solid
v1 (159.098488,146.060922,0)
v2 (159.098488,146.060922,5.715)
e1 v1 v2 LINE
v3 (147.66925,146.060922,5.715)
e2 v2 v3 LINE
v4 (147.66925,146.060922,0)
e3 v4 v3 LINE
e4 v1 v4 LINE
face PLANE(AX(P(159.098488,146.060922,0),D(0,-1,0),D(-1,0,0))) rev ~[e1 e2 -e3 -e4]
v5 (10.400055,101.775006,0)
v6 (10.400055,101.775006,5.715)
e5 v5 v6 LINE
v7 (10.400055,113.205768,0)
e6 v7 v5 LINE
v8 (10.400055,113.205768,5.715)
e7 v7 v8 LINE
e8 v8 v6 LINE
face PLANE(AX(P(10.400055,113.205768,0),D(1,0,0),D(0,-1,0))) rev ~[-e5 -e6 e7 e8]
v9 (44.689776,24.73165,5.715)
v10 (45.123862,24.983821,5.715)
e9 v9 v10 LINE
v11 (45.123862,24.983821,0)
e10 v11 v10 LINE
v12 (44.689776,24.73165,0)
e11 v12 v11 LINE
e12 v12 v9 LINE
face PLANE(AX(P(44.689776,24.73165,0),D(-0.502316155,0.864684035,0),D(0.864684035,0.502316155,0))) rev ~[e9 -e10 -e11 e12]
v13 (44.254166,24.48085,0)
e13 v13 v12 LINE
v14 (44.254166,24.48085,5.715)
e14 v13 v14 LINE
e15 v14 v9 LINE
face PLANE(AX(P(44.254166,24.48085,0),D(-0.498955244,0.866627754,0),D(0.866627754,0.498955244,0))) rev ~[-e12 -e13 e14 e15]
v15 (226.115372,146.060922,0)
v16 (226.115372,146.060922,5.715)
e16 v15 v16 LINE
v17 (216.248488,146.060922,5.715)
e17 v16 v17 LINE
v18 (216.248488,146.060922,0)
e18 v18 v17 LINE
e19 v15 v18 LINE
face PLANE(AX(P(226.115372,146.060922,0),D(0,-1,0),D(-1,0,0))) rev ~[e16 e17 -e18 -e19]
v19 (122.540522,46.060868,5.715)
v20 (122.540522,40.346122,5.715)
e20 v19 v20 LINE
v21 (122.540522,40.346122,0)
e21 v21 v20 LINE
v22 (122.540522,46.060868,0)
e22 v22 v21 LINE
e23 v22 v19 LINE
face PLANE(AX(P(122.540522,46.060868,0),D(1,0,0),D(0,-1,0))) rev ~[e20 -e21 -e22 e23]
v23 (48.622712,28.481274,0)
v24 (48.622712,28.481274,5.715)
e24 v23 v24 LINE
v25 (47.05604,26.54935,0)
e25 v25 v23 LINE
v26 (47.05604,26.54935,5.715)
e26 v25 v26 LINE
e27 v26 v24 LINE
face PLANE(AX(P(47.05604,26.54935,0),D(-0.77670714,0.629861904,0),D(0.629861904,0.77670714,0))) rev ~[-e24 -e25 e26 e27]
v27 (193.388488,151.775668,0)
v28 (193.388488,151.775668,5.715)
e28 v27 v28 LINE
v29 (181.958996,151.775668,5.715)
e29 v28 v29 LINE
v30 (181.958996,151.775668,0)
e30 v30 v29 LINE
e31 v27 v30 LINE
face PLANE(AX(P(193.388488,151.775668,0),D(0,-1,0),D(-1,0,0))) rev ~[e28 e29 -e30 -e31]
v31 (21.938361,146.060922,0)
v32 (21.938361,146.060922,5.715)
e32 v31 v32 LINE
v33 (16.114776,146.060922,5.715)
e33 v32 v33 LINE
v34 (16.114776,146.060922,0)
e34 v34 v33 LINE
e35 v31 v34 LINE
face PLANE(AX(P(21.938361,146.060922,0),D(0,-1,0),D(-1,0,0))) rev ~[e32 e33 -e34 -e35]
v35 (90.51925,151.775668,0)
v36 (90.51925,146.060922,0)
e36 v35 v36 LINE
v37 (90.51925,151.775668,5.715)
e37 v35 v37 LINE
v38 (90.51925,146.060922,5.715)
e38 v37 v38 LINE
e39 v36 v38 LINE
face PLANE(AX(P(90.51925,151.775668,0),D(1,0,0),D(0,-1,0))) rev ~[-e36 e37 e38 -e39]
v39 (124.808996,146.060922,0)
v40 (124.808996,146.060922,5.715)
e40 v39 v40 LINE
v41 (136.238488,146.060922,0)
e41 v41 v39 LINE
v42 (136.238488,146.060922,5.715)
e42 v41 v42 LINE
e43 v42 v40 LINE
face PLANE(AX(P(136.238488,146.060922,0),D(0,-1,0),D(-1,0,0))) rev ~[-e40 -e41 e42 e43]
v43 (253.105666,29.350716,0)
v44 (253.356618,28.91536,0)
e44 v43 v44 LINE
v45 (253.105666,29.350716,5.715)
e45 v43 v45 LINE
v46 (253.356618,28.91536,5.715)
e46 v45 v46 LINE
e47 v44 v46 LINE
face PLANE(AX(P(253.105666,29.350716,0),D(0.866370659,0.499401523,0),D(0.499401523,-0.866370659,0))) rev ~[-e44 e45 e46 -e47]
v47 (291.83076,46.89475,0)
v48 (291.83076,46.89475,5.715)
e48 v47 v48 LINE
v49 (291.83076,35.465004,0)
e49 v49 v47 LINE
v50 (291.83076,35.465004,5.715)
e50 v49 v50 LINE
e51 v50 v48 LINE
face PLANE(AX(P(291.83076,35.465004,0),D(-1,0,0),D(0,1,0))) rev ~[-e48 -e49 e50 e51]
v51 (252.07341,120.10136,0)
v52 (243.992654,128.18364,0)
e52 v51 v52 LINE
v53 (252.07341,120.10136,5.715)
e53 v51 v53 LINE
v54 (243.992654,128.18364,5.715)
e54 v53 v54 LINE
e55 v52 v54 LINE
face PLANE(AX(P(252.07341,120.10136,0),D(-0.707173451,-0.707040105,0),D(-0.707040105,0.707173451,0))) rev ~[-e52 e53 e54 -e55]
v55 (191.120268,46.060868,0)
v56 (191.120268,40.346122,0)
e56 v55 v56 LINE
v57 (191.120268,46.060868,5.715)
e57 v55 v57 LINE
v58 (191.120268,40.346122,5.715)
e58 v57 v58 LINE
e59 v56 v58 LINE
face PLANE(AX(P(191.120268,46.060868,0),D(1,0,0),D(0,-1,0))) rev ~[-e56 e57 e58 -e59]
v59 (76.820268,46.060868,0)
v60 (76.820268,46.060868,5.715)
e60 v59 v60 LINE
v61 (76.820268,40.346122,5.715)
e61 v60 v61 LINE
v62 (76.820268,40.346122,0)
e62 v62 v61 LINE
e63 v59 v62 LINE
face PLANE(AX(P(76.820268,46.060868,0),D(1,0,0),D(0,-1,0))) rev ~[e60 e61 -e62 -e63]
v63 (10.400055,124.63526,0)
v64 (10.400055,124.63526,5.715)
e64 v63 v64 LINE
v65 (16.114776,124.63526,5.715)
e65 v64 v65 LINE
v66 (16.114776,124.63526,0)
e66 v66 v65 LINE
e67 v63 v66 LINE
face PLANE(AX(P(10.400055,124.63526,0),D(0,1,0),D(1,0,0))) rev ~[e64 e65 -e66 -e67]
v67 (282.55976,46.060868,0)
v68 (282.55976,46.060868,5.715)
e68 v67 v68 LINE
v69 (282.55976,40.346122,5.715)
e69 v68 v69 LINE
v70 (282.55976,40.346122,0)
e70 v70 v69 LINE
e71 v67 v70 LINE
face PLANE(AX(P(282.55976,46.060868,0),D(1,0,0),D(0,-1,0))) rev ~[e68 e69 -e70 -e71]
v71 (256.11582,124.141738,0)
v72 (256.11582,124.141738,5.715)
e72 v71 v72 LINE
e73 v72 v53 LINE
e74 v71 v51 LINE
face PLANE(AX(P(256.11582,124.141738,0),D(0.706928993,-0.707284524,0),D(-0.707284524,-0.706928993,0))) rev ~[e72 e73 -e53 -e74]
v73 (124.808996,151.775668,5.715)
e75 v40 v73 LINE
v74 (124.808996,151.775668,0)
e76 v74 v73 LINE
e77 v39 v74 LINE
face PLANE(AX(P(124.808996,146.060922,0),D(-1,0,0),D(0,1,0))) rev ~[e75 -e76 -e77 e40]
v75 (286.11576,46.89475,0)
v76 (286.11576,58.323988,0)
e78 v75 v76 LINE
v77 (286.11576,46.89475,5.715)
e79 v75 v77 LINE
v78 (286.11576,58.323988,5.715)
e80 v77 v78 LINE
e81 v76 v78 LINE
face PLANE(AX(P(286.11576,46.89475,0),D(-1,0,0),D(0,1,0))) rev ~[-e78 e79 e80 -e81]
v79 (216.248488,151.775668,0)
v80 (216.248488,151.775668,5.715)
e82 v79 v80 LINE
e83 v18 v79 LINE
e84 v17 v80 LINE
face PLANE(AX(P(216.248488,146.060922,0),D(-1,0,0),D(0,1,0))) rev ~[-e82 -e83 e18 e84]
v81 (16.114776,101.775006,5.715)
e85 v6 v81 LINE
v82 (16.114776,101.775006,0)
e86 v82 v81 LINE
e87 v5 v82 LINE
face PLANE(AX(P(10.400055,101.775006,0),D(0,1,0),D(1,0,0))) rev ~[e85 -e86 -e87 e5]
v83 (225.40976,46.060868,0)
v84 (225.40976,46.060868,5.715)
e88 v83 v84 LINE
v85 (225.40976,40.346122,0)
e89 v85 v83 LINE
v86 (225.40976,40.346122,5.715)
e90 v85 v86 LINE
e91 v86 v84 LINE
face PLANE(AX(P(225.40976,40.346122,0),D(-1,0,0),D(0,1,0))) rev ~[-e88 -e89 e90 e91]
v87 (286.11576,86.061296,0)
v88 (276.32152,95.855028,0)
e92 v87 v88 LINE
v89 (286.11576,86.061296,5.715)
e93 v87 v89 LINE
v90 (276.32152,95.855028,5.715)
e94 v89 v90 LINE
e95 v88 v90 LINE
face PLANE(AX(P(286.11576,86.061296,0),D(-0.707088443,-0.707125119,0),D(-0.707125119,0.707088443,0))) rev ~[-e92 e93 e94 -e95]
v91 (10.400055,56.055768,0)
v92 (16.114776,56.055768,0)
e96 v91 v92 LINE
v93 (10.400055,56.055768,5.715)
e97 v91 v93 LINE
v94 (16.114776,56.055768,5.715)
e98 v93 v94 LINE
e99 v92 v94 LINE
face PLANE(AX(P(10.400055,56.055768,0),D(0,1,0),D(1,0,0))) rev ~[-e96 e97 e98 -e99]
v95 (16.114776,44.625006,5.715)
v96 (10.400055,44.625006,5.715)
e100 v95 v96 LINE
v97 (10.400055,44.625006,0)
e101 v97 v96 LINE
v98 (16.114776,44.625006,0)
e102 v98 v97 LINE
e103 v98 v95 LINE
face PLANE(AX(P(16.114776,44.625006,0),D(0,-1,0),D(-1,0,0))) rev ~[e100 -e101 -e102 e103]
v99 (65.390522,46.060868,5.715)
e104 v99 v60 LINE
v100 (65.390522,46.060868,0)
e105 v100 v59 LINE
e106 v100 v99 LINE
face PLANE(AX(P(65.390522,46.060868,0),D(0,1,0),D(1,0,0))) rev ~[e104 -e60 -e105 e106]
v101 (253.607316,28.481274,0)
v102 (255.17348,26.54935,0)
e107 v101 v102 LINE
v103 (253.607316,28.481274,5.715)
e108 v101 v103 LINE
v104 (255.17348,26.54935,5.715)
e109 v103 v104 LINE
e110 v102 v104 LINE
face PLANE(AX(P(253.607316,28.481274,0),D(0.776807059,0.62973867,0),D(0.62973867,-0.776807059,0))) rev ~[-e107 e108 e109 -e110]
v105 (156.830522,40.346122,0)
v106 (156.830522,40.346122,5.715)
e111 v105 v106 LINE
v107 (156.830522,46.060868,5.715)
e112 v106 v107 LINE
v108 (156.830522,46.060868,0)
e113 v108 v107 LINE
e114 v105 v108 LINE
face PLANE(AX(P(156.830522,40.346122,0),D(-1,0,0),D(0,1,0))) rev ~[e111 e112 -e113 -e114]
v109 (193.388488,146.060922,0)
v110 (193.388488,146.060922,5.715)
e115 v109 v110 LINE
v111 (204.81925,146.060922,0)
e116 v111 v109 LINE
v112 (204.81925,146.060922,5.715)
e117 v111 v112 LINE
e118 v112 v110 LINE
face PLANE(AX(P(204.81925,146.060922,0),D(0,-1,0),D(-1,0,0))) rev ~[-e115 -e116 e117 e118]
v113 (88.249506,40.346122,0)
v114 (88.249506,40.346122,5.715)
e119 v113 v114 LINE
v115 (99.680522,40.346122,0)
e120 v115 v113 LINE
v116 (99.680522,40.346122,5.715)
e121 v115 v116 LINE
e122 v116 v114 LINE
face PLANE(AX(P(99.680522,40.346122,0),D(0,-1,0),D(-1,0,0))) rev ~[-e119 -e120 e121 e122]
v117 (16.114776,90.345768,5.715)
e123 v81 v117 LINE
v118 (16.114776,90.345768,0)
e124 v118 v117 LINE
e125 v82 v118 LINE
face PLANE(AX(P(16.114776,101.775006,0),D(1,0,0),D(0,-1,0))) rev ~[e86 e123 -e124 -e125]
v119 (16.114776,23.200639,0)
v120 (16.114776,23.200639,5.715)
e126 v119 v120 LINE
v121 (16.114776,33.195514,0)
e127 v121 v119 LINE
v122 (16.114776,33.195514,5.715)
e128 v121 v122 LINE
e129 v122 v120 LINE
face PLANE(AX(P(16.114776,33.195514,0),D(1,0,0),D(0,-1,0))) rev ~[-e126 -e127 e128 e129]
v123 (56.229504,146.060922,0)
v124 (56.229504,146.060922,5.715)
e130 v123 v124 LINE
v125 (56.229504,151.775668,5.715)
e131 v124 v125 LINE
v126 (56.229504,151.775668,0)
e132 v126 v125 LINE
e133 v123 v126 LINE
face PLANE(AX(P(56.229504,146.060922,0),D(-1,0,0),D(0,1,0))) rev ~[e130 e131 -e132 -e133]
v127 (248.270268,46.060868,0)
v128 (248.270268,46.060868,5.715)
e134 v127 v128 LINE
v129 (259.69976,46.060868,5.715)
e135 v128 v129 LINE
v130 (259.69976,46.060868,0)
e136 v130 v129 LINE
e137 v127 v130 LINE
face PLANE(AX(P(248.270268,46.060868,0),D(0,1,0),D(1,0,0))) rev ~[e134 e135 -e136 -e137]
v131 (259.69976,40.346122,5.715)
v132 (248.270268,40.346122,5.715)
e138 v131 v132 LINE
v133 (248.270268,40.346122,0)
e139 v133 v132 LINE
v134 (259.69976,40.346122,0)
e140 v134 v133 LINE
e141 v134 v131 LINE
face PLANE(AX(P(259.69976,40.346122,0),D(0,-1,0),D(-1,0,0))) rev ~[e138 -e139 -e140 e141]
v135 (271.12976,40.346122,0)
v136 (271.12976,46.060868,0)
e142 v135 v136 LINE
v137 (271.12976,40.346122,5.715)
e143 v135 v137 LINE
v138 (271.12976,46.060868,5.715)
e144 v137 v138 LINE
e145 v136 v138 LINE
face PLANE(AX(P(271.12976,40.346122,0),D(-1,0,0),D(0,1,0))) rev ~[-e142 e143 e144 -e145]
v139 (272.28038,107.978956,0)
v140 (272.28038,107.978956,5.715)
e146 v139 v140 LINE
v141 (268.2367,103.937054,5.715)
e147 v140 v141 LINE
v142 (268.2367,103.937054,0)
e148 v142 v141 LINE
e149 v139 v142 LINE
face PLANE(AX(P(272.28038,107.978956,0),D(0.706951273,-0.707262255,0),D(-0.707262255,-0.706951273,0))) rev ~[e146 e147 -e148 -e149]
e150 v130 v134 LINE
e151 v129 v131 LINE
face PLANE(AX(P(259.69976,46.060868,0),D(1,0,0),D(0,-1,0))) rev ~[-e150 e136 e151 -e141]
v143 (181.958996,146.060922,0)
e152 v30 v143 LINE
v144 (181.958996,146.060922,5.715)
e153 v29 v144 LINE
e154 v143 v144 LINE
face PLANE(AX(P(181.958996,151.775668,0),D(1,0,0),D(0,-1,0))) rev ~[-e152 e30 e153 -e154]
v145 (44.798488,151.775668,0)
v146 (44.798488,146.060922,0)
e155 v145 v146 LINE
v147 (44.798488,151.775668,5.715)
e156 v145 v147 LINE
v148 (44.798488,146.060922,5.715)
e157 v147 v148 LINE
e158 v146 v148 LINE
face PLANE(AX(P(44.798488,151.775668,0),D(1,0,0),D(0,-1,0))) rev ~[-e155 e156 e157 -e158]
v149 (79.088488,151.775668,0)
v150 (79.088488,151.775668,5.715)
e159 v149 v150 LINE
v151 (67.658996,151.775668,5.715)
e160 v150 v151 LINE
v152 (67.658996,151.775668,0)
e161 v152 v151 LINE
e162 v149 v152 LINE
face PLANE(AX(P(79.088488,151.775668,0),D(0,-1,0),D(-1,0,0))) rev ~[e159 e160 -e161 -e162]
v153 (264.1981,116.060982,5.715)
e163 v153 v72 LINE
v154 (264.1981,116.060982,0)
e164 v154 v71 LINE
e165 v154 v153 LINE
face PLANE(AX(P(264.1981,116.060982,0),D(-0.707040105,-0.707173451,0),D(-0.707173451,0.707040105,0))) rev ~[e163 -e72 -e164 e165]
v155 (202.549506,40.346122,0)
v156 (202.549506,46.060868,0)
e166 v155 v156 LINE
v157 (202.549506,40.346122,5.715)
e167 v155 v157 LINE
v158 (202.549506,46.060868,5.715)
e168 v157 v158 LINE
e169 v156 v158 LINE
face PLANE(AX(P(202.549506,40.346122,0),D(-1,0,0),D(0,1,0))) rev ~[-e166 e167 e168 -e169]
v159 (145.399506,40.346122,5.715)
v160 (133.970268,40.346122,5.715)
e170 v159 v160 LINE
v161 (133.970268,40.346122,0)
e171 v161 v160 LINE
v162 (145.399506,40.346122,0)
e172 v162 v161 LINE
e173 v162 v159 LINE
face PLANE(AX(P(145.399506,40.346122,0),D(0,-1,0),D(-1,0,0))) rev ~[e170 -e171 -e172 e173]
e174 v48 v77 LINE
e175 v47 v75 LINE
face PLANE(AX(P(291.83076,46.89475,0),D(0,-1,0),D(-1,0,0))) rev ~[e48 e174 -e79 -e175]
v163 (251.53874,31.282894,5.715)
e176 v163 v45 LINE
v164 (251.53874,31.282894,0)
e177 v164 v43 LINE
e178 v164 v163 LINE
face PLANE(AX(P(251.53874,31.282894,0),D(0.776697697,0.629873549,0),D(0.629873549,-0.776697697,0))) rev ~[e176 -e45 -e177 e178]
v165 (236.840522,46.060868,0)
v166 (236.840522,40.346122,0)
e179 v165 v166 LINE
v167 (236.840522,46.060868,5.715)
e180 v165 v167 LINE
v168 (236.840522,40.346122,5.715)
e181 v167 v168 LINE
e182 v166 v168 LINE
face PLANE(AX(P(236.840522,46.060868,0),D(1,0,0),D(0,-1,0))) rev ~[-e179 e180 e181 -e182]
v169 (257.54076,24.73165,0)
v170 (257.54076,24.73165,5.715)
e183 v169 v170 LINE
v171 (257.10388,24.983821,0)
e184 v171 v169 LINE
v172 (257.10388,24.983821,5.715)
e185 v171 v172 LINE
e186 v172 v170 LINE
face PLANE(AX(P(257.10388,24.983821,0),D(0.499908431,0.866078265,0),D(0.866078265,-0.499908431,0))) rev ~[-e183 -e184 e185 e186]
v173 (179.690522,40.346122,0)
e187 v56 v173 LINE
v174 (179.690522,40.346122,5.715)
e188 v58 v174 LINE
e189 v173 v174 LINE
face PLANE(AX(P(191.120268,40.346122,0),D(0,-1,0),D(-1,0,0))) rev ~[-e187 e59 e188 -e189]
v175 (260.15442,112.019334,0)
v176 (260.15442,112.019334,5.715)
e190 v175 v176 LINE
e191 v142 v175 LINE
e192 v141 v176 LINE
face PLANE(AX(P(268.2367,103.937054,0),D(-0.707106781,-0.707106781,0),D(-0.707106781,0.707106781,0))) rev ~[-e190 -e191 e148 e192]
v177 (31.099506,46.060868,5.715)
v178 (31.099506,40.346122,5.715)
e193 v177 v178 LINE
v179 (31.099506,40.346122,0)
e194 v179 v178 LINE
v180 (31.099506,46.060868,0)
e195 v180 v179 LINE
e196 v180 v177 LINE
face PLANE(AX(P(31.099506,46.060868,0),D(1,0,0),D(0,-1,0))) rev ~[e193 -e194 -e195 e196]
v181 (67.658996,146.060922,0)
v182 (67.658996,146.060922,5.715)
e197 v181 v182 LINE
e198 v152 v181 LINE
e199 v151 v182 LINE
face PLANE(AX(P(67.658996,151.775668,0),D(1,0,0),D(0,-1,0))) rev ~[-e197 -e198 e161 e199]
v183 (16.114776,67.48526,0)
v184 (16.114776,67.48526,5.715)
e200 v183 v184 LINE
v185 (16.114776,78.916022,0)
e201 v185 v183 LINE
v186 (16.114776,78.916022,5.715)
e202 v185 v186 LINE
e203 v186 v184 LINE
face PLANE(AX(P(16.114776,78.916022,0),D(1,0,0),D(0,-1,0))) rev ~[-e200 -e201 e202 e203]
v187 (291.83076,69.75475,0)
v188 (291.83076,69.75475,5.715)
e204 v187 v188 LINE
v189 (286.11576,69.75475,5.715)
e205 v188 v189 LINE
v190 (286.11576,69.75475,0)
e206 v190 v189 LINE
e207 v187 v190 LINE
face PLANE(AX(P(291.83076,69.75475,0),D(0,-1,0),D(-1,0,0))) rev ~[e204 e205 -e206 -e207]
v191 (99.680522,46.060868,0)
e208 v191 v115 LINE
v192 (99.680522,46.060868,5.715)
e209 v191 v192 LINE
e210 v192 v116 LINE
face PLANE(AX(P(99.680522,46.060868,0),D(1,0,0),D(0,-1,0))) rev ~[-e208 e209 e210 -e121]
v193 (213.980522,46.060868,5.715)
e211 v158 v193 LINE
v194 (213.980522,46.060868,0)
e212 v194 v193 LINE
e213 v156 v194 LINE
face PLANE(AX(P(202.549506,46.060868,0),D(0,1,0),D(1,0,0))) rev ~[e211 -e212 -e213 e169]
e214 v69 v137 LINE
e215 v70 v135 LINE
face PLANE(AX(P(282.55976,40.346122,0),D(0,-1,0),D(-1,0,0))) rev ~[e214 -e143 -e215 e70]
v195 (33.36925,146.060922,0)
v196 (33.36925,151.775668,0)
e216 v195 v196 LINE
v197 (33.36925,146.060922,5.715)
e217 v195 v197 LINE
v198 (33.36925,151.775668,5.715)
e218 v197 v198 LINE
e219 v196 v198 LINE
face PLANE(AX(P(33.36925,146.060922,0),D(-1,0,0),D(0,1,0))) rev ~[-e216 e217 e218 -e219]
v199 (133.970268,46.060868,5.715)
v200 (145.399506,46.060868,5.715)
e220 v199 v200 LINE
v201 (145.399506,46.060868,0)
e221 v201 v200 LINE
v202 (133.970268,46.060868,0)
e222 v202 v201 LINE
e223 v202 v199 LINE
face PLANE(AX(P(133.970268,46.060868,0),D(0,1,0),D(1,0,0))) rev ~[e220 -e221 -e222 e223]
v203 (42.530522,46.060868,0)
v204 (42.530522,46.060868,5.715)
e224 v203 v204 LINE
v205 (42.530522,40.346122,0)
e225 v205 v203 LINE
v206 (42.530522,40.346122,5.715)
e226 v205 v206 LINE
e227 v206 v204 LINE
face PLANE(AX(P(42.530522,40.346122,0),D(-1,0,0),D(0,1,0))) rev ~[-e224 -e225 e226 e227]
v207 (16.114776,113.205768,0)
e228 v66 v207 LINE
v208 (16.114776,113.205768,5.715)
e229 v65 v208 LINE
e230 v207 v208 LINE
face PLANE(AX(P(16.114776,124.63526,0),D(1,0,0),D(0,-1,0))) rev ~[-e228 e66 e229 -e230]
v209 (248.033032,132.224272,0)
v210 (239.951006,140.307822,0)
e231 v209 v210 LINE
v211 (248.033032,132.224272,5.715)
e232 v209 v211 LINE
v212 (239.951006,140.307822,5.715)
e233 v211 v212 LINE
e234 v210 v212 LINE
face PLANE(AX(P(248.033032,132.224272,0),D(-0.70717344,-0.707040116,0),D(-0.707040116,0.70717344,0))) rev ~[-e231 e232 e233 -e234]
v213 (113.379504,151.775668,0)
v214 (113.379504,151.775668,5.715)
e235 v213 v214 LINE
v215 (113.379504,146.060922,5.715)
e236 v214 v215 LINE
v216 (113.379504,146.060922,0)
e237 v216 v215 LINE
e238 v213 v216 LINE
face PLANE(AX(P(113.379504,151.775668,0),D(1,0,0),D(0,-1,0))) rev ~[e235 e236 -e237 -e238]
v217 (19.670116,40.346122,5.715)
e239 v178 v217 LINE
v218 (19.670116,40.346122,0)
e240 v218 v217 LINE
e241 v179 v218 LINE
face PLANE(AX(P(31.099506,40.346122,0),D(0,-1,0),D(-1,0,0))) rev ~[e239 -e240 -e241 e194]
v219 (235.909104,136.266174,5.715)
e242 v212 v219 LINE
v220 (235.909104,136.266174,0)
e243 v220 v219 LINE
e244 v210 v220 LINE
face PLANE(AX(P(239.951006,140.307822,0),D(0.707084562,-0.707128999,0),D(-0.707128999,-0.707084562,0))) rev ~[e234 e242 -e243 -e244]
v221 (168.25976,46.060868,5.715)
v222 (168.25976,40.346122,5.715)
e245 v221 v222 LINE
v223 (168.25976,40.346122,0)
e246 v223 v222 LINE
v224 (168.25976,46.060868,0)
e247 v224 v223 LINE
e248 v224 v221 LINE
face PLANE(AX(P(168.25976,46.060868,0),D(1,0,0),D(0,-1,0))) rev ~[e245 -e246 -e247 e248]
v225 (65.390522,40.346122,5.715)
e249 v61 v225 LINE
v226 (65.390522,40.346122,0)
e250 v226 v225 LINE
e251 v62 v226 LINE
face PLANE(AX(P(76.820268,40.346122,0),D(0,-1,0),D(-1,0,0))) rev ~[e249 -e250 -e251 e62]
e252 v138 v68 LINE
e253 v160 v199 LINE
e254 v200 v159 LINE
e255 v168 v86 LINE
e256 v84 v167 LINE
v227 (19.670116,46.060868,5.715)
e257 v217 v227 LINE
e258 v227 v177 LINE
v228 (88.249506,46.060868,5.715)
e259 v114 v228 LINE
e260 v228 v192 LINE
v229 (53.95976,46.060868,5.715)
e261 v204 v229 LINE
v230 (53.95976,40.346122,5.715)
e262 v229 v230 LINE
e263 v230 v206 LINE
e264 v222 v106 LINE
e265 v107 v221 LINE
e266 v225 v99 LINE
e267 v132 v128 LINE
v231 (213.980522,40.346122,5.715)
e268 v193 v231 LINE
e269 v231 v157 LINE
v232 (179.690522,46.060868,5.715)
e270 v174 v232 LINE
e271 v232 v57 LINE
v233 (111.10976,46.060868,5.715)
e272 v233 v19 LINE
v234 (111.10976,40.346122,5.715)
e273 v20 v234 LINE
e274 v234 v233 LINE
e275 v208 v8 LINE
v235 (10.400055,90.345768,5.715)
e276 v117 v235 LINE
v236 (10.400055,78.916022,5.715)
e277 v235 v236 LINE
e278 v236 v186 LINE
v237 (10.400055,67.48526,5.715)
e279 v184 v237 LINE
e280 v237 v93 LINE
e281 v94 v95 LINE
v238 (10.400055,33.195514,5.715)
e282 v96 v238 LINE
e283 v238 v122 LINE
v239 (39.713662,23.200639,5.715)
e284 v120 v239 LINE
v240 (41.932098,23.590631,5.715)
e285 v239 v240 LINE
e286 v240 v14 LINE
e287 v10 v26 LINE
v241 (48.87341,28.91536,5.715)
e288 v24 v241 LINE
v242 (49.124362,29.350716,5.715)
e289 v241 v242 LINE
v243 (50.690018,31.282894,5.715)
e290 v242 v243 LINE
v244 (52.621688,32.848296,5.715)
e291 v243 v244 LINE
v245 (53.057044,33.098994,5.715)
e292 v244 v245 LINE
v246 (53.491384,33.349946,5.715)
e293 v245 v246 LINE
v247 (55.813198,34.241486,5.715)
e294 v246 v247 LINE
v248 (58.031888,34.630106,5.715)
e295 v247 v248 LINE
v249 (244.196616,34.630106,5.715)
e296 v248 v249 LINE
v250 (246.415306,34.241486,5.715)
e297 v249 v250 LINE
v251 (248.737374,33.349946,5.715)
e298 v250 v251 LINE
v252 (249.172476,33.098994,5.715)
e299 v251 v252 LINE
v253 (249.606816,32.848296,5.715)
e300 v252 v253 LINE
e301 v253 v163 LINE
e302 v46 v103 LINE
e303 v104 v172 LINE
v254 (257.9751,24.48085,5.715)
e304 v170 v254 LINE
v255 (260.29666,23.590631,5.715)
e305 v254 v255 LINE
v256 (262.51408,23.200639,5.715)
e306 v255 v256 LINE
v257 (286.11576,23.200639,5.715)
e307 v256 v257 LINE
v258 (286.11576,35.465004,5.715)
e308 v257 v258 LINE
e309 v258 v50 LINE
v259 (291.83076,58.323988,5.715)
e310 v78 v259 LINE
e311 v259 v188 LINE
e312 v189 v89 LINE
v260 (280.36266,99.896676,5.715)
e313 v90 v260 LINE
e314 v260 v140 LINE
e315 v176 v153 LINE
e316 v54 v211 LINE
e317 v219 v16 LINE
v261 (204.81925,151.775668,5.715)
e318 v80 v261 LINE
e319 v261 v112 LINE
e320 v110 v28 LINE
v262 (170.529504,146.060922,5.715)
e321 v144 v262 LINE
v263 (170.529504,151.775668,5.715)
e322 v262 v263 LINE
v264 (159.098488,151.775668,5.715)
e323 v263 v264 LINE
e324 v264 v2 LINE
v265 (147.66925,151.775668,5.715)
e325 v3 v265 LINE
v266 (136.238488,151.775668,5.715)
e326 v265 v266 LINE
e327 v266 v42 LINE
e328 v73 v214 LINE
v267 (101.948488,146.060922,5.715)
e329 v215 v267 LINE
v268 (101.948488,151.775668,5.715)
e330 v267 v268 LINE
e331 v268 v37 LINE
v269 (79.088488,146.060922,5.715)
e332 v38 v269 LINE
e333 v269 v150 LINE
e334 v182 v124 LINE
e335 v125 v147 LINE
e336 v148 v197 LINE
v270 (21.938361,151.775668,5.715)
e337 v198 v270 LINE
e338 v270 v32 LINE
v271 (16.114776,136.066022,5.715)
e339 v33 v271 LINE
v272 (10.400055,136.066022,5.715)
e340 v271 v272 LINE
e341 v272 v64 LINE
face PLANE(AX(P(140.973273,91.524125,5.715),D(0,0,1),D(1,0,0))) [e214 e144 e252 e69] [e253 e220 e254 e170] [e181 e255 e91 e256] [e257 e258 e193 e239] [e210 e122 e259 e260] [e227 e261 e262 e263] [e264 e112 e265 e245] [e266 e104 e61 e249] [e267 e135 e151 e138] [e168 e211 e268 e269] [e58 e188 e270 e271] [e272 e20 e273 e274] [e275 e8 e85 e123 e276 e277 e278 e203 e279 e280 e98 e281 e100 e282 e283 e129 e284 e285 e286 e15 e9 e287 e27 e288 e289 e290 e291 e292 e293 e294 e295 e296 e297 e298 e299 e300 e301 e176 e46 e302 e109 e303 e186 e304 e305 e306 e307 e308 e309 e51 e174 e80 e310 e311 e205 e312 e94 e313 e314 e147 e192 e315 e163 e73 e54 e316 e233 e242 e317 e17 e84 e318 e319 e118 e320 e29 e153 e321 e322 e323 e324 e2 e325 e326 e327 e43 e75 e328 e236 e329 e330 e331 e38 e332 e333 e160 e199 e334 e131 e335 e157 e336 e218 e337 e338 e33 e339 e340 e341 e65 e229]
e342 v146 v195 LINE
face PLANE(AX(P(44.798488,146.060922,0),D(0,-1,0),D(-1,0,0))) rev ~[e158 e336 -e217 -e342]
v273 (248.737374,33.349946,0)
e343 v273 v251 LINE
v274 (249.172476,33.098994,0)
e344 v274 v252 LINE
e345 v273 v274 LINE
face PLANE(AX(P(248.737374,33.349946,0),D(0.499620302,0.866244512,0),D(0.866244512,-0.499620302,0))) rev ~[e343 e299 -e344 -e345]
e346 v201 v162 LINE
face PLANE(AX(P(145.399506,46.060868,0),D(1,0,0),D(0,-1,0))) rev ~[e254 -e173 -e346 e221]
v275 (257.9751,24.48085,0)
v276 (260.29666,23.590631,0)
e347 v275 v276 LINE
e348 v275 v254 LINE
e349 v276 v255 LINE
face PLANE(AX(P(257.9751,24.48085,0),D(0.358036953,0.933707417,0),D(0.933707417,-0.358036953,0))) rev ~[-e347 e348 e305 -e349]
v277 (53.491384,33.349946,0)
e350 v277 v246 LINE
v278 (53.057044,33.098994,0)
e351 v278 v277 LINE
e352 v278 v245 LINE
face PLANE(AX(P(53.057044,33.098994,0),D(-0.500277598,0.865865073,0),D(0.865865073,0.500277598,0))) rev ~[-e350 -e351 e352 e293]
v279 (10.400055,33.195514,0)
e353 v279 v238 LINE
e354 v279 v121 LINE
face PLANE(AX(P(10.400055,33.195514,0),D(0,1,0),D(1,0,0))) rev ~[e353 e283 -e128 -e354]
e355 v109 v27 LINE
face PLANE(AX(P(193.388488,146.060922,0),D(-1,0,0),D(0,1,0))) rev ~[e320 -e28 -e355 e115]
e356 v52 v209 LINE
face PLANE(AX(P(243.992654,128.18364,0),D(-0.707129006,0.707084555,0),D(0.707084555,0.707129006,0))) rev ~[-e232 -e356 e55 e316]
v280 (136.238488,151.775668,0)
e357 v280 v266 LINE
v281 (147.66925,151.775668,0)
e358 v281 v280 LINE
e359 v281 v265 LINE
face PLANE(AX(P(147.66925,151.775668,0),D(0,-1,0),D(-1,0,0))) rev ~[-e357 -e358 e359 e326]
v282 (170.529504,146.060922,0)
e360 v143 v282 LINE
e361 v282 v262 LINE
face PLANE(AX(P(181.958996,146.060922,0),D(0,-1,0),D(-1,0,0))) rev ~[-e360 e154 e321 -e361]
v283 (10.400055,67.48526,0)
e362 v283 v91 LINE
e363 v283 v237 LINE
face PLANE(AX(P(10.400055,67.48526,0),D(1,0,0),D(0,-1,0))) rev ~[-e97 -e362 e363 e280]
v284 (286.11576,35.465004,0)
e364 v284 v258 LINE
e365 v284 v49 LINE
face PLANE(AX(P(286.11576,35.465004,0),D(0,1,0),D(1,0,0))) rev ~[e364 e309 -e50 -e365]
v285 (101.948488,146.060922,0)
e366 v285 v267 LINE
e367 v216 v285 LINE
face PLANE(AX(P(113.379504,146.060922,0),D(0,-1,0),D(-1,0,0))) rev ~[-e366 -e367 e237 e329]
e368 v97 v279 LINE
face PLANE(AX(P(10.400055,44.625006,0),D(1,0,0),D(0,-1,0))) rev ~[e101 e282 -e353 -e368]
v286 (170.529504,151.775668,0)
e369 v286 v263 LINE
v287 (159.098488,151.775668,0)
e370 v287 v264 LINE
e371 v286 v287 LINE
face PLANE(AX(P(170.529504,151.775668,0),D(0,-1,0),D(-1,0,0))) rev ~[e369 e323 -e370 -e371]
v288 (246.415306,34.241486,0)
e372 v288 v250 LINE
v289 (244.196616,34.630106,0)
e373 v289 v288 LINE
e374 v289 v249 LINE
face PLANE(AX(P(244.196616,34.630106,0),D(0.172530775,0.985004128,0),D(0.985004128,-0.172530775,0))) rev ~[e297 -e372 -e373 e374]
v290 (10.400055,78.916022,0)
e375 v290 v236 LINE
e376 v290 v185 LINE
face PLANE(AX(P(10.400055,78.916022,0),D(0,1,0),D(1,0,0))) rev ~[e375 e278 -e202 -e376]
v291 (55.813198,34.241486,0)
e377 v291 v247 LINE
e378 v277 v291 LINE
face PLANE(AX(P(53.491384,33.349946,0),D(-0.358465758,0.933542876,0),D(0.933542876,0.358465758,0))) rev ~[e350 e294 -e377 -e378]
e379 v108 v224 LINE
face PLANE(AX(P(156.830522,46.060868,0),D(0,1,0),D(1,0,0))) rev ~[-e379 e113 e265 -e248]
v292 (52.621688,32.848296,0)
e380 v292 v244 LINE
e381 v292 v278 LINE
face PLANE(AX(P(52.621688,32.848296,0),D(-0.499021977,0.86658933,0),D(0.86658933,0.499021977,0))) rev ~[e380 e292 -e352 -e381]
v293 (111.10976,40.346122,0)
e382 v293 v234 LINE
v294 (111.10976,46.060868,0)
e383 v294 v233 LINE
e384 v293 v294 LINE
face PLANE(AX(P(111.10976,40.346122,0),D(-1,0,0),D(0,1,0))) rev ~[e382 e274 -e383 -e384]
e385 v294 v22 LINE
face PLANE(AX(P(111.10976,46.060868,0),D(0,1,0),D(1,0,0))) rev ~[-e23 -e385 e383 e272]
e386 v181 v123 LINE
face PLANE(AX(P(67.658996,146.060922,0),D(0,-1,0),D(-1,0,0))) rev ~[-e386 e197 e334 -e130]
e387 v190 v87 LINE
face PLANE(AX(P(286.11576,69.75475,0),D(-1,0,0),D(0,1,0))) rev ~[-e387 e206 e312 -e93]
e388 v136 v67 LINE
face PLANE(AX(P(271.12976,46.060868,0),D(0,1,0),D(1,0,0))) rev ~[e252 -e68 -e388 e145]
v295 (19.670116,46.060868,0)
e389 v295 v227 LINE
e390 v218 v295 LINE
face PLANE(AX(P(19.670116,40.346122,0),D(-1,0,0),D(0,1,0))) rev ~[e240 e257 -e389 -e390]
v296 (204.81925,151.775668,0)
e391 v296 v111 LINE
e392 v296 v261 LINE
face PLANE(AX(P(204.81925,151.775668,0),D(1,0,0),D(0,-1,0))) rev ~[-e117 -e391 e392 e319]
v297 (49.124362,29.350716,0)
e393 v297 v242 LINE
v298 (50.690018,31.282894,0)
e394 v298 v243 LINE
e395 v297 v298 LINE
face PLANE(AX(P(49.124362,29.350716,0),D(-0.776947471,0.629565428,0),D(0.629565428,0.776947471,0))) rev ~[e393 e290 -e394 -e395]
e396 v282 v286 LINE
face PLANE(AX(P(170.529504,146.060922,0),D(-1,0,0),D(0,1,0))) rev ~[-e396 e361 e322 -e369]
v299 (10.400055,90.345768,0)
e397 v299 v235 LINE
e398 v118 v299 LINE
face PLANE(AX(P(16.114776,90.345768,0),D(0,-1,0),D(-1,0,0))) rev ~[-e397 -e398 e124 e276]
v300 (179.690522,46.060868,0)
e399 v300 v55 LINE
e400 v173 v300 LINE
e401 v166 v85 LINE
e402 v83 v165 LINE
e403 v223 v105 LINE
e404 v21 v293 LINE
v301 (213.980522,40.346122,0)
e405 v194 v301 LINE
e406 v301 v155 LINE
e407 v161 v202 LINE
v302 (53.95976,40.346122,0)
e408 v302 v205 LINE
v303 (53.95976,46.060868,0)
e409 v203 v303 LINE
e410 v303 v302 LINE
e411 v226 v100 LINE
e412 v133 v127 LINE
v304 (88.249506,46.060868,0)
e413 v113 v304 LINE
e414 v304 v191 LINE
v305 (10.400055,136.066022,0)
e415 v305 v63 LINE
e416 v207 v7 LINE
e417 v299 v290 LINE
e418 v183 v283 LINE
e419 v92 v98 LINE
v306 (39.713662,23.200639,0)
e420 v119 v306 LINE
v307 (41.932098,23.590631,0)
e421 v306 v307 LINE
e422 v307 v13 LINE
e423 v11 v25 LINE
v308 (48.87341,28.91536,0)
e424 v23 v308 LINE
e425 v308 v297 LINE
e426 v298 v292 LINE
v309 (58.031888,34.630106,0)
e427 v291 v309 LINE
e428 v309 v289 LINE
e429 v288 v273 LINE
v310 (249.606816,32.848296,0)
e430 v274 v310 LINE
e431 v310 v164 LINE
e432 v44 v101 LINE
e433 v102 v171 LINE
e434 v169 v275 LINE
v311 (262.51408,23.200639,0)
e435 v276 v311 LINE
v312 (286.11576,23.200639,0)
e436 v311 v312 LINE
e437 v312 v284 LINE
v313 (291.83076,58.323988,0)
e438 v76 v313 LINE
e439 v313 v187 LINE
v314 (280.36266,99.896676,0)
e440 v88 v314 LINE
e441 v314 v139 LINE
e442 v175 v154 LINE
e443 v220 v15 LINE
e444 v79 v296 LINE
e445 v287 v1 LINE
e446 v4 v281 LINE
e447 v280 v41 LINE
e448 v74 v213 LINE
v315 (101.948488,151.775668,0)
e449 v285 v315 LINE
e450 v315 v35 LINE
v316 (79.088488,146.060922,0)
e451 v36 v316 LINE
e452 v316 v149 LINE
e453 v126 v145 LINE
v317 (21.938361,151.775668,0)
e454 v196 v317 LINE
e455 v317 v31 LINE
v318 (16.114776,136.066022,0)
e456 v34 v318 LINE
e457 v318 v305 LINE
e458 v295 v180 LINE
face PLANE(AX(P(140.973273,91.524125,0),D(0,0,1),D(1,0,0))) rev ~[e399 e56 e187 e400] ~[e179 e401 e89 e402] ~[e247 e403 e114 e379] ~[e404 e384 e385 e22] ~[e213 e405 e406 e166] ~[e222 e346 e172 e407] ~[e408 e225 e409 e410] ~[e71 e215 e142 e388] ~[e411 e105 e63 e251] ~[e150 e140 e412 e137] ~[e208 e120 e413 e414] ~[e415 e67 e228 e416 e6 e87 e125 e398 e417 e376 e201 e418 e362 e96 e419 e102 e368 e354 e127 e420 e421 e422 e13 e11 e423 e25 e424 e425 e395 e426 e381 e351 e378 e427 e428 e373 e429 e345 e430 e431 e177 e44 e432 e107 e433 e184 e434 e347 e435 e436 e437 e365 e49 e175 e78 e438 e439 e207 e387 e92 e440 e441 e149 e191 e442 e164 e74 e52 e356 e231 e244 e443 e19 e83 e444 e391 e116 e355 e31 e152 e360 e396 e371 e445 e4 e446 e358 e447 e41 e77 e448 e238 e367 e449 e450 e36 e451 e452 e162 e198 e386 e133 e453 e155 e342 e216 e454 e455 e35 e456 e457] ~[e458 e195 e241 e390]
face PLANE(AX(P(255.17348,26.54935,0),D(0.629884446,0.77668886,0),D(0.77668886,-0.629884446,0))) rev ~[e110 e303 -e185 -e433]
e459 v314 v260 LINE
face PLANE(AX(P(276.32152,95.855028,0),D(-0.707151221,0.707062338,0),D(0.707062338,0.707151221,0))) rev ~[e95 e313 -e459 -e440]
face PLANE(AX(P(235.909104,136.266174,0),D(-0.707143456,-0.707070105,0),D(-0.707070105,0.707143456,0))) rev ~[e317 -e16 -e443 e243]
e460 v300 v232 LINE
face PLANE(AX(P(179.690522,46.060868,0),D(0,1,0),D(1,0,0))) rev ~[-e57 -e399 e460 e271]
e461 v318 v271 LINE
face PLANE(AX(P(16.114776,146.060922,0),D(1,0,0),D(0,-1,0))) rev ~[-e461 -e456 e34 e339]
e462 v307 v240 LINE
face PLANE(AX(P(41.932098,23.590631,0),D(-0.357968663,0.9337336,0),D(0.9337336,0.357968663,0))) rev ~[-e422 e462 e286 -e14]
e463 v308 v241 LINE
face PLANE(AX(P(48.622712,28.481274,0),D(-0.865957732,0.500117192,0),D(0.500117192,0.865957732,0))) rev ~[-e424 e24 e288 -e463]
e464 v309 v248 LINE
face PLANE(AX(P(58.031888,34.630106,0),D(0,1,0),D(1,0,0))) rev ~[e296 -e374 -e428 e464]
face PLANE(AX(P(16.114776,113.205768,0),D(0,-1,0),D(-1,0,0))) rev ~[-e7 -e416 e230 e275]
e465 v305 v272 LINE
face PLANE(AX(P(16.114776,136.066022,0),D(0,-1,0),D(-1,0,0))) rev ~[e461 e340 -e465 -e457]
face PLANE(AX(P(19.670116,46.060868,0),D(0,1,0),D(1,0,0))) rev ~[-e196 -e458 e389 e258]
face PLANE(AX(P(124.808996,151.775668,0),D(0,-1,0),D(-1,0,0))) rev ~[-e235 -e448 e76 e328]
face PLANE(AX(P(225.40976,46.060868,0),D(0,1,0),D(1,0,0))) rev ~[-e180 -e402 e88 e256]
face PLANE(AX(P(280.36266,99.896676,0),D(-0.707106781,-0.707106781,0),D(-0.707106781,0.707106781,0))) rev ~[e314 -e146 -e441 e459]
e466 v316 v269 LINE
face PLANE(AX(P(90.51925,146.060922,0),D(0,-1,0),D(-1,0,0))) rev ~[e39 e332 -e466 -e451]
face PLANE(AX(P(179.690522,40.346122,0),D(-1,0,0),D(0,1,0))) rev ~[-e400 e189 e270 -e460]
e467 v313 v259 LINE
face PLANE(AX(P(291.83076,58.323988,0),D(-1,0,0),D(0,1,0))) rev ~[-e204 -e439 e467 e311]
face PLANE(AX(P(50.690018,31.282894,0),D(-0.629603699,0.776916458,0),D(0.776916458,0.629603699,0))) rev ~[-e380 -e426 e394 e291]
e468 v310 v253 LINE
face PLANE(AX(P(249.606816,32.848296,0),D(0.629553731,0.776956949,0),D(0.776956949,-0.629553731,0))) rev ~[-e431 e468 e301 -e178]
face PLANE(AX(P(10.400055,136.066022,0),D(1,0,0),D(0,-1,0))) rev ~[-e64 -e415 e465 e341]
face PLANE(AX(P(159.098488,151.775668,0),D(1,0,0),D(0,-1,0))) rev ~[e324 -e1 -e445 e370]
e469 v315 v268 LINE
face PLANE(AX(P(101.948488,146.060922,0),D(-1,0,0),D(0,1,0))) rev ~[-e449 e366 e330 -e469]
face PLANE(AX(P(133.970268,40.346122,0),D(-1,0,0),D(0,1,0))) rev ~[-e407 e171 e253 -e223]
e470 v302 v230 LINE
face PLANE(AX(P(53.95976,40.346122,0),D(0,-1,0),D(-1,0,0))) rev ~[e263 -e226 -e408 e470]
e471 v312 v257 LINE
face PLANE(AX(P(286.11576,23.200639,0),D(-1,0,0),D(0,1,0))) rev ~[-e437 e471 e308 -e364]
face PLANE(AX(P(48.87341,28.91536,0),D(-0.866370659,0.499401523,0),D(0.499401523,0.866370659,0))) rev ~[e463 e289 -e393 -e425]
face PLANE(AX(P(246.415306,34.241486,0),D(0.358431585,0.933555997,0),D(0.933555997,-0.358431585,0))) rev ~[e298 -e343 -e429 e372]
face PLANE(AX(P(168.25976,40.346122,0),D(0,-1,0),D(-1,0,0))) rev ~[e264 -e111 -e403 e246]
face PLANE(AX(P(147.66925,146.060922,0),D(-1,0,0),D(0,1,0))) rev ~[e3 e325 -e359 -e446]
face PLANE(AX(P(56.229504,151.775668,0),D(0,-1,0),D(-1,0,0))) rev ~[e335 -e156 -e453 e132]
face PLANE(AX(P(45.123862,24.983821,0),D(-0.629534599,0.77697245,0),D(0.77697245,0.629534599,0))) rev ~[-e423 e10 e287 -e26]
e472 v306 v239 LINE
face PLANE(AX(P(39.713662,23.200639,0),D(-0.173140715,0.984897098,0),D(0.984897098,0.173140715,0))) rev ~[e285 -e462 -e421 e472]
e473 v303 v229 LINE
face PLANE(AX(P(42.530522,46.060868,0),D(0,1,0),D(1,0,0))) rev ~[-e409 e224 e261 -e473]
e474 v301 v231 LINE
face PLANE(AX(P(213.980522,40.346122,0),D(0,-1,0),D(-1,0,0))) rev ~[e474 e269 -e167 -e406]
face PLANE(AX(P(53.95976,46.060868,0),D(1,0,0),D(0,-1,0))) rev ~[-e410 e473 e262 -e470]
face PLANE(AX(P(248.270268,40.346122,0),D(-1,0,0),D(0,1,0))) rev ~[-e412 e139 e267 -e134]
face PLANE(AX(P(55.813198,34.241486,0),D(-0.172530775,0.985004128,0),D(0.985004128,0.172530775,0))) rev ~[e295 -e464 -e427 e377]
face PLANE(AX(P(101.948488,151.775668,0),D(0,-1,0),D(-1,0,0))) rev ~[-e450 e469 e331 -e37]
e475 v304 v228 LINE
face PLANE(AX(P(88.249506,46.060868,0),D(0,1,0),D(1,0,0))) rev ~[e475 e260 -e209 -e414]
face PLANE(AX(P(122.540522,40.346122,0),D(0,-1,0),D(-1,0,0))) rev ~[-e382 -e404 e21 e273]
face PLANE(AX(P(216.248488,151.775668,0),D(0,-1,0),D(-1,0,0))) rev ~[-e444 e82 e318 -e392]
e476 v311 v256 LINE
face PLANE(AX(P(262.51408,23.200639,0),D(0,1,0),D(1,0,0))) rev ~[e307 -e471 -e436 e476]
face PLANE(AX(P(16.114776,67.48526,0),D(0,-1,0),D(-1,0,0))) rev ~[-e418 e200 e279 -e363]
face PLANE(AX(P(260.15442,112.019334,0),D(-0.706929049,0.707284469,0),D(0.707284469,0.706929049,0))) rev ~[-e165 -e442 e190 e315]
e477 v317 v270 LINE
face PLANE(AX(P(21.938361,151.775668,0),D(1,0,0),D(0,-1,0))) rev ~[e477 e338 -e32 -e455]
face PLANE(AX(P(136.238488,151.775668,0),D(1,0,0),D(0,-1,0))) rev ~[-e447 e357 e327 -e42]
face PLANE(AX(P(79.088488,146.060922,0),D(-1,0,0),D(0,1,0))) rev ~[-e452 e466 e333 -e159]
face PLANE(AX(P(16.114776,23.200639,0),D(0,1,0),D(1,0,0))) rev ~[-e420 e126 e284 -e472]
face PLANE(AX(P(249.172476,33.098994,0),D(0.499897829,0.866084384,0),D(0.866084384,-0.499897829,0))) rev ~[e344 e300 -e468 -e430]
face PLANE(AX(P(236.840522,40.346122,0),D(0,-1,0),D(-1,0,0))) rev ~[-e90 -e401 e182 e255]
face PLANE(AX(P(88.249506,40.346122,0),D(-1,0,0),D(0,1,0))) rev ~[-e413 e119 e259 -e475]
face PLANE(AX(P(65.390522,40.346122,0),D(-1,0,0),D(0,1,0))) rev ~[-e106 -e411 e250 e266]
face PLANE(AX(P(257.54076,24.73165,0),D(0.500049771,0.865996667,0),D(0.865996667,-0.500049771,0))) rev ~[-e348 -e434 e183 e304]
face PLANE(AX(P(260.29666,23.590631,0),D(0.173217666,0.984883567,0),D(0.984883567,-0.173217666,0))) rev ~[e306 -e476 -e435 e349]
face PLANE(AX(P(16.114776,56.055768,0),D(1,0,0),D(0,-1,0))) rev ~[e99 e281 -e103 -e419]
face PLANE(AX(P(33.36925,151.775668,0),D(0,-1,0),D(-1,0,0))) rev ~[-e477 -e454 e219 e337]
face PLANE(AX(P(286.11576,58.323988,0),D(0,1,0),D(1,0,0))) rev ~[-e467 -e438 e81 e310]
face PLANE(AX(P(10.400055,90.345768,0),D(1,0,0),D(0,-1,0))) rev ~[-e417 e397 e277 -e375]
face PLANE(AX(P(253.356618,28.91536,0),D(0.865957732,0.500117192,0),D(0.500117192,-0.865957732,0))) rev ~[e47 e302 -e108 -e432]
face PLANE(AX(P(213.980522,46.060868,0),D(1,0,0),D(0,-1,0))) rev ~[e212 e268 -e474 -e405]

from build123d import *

# Parameters (mm, degrees)
BOSS_EXTRUDE1_DEPTH = 5.715


with BuildPart() as part:
    # Model → Boss-Extrude1 (new body)
    with BuildSketch(Plane.XY):
        Polygon((16.114776, 23.2006394), (38.974776, 23.2006394), (39.713662, 23.2006394), (41.932098, 23.590631), (44.254166, 24.4808502), (44.689776, 24.7316498), (45.123862, 24.983821), (47.05604, 26.54935), (48.622712, 28.481274), (48.87341, 28.91536), (49.124362, 29.350716), (50.690018, 31.282894), (52.621688, 32.848296), (53.057044, 33.098994), (53.491384, 33.349946), (55.813198, 34.241486), (58.031888, 34.630106), (58.772044, 34.630106), (243.457984, 34.630106), (244.196616, 34.630106), (246.415306, 34.241486), (248.737374, 33.349946), (249.172476, 33.098994), (249.606816, 32.848296), (251.53874, 31.282894), (253.105666, 29.350716), (253.356618, 28.91536), (253.607316, 28.481274), (255.17348, 26.54935), (257.10388, 24.983821), (257.54076, 24.7316498), (257.9751, 24.4808502), (260.29666, 23.590631), (262.51408, 23.2006394), (263.25576, 23.2006394), (286.11576, 23.2006394), (286.11576, 35.465004), (291.83076, 35.465004), (291.83076, 46.89475), (286.11576, 46.89475), (286.11576, 58.323988), (291.83076, 58.323988), (291.83076, 69.75475), (286.11576, 69.75475), (286.11576, 86.061296), (276.32152, 95.855028), (280.36266, 99.896676), (272.28038, 107.978956), (268.2367, 103.937054), (260.15442, 112.019334), (264.1981, 116.060982), (256.11582, 124.141738), (252.07341, 120.10136), (243.992654, 128.18364), (248.033032, 132.224272), (239.951006, 140.307822), (235.909104, 136.266174), (226.115372, 146.060922), (216.248488, 146.060922), (216.248488, 151.775668), (204.81925, 151.775668), (204.81925, 146.060922), (193.388488, 146.060922), (193.388488, 151.775668), (181.958996, 151.775668), (181.958996, 146.060922), (170.529504, 146.060922), (170.529504, 151.775668), (159.098488, 151.775668), (159.098488, 146.060922), (147.66925, 146.060922), (147.66925, 151.775668), (136.238488, 151.775668), (136.238488, 146.060922), (124.808996, 146.060922), (124.808996, 151.775668), (113.379504, 151.775668), (113.379504, 146.060922), (101.948488, 146.060922), (101.948488, 151.775668), (90.51925, 151.775668), (90.51925, 146.060922), (79.088488, 146.060922), (79.088488, 151.775668), (67.658996, 151.775668), (67.658996, 146.060922), (56.229504, 146.060922), (56.229504, 151.775668), (44.798488, 151.775668), (44.798488, 146.060922), (33.36925, 146.060922), (33.36925, 151.775668), (21.938361, 151.775668), (21.938361, 146.060922), (16.114776, 146.060922), (16.114776, 136.066022), (10.4000554, 136.066022), (10.4000554, 124.63526), (16.114776, 124.63526), (16.114776, 113.205768), (10.4000554, 113.205768), (10.4000554, 101.775006), (16.114776, 101.775006), (16.114776, 90.345768), (10.4000554, 90.345768), (10.4000554, 78.916022), (16.114776, 78.916022), (16.114776, 67.48526), (10.4000554, 67.48526), (10.4000554, 56.055768), (16.114776, 56.055768), (16.114776, 44.625006), (10.4000554, 44.625006), (10.4000554, 33.195514), (16.114776, 33.195514), align=None)
        Polygon((25.3848362, 40.346122), (19.6701156, 40.346122), (19.6701156, 46.060868), (31.099506, 46.060868), (31.099506, 40.346122), align=None, mode=Mode.SUBTRACT)
        Polygon((48.245268, 40.346122), (42.530522, 40.346122), (42.530522, 46.060868), (53.95976, 46.060868), (53.95976, 40.346122), align=None, mode=Mode.SUBTRACT)
        Polygon((71.105522, 40.346122), (65.390522, 40.346122), (65.390522, 46.060868), (76.820268, 46.060868), (76.820268, 40.346122), align=None, mode=Mode.SUBTRACT)
        Polygon((93.965522, 40.346122), (88.249506, 40.346122), (88.249506, 46.060868), (99.680522, 46.060868), (99.680522, 40.346122), align=None, mode=Mode.SUBTRACT)
        Polygon((116.824506, 40.346122), (111.10976, 40.346122), (111.10976, 46.060868), (122.540522, 46.060868), (122.540522, 40.346122), align=None, mode=Mode.SUBTRACT)
        Polygon((139.68476, 40.346122), (133.970268, 40.346122), (133.970268, 46.060868), (145.399506, 46.060868), (145.399506, 40.346122), align=None, mode=Mode.SUBTRACT)
        Polygon((162.545268, 40.346122), (156.830522, 40.346122), (156.830522, 46.060868), (168.25976, 46.060868), (168.25976, 40.346122), align=None, mode=Mode.SUBTRACT)
        Polygon((185.405522, 40.346122), (179.690522, 40.346122), (179.690522, 46.060868), (191.120268, 46.060868), (191.120268, 40.346122), align=None, mode=Mode.SUBTRACT)
        Polygon((208.265522, 40.346122), (202.549506, 40.346122), (202.549506, 46.060868), (213.980522, 46.060868), (213.980522, 40.346122), align=None, mode=Mode.SUBTRACT)
        Polygon((231.124506, 40.346122), (225.40976, 40.346122), (225.40976, 46.060868), (236.840522, 46.060868), (236.840522, 40.346122), align=None, mode=Mode.SUBTRACT)
        Polygon((253.98476, 40.346122), (248.270268, 40.346122), (248.270268, 46.060868), (259.69976, 46.060868), (259.69976, 40.346122), align=None, mode=Mode.SUBTRACT)
        Polygon((276.84476, 40.346122), (271.12976, 40.346122), (271.12976, 46.060868), (282.55976, 46.060868), (282.55976, 40.346122), align=None, mode=Mode.SUBTRACT)
    extrude(amount=BOSS_EXTRUDE1_DEPTH)


solid = part.part
